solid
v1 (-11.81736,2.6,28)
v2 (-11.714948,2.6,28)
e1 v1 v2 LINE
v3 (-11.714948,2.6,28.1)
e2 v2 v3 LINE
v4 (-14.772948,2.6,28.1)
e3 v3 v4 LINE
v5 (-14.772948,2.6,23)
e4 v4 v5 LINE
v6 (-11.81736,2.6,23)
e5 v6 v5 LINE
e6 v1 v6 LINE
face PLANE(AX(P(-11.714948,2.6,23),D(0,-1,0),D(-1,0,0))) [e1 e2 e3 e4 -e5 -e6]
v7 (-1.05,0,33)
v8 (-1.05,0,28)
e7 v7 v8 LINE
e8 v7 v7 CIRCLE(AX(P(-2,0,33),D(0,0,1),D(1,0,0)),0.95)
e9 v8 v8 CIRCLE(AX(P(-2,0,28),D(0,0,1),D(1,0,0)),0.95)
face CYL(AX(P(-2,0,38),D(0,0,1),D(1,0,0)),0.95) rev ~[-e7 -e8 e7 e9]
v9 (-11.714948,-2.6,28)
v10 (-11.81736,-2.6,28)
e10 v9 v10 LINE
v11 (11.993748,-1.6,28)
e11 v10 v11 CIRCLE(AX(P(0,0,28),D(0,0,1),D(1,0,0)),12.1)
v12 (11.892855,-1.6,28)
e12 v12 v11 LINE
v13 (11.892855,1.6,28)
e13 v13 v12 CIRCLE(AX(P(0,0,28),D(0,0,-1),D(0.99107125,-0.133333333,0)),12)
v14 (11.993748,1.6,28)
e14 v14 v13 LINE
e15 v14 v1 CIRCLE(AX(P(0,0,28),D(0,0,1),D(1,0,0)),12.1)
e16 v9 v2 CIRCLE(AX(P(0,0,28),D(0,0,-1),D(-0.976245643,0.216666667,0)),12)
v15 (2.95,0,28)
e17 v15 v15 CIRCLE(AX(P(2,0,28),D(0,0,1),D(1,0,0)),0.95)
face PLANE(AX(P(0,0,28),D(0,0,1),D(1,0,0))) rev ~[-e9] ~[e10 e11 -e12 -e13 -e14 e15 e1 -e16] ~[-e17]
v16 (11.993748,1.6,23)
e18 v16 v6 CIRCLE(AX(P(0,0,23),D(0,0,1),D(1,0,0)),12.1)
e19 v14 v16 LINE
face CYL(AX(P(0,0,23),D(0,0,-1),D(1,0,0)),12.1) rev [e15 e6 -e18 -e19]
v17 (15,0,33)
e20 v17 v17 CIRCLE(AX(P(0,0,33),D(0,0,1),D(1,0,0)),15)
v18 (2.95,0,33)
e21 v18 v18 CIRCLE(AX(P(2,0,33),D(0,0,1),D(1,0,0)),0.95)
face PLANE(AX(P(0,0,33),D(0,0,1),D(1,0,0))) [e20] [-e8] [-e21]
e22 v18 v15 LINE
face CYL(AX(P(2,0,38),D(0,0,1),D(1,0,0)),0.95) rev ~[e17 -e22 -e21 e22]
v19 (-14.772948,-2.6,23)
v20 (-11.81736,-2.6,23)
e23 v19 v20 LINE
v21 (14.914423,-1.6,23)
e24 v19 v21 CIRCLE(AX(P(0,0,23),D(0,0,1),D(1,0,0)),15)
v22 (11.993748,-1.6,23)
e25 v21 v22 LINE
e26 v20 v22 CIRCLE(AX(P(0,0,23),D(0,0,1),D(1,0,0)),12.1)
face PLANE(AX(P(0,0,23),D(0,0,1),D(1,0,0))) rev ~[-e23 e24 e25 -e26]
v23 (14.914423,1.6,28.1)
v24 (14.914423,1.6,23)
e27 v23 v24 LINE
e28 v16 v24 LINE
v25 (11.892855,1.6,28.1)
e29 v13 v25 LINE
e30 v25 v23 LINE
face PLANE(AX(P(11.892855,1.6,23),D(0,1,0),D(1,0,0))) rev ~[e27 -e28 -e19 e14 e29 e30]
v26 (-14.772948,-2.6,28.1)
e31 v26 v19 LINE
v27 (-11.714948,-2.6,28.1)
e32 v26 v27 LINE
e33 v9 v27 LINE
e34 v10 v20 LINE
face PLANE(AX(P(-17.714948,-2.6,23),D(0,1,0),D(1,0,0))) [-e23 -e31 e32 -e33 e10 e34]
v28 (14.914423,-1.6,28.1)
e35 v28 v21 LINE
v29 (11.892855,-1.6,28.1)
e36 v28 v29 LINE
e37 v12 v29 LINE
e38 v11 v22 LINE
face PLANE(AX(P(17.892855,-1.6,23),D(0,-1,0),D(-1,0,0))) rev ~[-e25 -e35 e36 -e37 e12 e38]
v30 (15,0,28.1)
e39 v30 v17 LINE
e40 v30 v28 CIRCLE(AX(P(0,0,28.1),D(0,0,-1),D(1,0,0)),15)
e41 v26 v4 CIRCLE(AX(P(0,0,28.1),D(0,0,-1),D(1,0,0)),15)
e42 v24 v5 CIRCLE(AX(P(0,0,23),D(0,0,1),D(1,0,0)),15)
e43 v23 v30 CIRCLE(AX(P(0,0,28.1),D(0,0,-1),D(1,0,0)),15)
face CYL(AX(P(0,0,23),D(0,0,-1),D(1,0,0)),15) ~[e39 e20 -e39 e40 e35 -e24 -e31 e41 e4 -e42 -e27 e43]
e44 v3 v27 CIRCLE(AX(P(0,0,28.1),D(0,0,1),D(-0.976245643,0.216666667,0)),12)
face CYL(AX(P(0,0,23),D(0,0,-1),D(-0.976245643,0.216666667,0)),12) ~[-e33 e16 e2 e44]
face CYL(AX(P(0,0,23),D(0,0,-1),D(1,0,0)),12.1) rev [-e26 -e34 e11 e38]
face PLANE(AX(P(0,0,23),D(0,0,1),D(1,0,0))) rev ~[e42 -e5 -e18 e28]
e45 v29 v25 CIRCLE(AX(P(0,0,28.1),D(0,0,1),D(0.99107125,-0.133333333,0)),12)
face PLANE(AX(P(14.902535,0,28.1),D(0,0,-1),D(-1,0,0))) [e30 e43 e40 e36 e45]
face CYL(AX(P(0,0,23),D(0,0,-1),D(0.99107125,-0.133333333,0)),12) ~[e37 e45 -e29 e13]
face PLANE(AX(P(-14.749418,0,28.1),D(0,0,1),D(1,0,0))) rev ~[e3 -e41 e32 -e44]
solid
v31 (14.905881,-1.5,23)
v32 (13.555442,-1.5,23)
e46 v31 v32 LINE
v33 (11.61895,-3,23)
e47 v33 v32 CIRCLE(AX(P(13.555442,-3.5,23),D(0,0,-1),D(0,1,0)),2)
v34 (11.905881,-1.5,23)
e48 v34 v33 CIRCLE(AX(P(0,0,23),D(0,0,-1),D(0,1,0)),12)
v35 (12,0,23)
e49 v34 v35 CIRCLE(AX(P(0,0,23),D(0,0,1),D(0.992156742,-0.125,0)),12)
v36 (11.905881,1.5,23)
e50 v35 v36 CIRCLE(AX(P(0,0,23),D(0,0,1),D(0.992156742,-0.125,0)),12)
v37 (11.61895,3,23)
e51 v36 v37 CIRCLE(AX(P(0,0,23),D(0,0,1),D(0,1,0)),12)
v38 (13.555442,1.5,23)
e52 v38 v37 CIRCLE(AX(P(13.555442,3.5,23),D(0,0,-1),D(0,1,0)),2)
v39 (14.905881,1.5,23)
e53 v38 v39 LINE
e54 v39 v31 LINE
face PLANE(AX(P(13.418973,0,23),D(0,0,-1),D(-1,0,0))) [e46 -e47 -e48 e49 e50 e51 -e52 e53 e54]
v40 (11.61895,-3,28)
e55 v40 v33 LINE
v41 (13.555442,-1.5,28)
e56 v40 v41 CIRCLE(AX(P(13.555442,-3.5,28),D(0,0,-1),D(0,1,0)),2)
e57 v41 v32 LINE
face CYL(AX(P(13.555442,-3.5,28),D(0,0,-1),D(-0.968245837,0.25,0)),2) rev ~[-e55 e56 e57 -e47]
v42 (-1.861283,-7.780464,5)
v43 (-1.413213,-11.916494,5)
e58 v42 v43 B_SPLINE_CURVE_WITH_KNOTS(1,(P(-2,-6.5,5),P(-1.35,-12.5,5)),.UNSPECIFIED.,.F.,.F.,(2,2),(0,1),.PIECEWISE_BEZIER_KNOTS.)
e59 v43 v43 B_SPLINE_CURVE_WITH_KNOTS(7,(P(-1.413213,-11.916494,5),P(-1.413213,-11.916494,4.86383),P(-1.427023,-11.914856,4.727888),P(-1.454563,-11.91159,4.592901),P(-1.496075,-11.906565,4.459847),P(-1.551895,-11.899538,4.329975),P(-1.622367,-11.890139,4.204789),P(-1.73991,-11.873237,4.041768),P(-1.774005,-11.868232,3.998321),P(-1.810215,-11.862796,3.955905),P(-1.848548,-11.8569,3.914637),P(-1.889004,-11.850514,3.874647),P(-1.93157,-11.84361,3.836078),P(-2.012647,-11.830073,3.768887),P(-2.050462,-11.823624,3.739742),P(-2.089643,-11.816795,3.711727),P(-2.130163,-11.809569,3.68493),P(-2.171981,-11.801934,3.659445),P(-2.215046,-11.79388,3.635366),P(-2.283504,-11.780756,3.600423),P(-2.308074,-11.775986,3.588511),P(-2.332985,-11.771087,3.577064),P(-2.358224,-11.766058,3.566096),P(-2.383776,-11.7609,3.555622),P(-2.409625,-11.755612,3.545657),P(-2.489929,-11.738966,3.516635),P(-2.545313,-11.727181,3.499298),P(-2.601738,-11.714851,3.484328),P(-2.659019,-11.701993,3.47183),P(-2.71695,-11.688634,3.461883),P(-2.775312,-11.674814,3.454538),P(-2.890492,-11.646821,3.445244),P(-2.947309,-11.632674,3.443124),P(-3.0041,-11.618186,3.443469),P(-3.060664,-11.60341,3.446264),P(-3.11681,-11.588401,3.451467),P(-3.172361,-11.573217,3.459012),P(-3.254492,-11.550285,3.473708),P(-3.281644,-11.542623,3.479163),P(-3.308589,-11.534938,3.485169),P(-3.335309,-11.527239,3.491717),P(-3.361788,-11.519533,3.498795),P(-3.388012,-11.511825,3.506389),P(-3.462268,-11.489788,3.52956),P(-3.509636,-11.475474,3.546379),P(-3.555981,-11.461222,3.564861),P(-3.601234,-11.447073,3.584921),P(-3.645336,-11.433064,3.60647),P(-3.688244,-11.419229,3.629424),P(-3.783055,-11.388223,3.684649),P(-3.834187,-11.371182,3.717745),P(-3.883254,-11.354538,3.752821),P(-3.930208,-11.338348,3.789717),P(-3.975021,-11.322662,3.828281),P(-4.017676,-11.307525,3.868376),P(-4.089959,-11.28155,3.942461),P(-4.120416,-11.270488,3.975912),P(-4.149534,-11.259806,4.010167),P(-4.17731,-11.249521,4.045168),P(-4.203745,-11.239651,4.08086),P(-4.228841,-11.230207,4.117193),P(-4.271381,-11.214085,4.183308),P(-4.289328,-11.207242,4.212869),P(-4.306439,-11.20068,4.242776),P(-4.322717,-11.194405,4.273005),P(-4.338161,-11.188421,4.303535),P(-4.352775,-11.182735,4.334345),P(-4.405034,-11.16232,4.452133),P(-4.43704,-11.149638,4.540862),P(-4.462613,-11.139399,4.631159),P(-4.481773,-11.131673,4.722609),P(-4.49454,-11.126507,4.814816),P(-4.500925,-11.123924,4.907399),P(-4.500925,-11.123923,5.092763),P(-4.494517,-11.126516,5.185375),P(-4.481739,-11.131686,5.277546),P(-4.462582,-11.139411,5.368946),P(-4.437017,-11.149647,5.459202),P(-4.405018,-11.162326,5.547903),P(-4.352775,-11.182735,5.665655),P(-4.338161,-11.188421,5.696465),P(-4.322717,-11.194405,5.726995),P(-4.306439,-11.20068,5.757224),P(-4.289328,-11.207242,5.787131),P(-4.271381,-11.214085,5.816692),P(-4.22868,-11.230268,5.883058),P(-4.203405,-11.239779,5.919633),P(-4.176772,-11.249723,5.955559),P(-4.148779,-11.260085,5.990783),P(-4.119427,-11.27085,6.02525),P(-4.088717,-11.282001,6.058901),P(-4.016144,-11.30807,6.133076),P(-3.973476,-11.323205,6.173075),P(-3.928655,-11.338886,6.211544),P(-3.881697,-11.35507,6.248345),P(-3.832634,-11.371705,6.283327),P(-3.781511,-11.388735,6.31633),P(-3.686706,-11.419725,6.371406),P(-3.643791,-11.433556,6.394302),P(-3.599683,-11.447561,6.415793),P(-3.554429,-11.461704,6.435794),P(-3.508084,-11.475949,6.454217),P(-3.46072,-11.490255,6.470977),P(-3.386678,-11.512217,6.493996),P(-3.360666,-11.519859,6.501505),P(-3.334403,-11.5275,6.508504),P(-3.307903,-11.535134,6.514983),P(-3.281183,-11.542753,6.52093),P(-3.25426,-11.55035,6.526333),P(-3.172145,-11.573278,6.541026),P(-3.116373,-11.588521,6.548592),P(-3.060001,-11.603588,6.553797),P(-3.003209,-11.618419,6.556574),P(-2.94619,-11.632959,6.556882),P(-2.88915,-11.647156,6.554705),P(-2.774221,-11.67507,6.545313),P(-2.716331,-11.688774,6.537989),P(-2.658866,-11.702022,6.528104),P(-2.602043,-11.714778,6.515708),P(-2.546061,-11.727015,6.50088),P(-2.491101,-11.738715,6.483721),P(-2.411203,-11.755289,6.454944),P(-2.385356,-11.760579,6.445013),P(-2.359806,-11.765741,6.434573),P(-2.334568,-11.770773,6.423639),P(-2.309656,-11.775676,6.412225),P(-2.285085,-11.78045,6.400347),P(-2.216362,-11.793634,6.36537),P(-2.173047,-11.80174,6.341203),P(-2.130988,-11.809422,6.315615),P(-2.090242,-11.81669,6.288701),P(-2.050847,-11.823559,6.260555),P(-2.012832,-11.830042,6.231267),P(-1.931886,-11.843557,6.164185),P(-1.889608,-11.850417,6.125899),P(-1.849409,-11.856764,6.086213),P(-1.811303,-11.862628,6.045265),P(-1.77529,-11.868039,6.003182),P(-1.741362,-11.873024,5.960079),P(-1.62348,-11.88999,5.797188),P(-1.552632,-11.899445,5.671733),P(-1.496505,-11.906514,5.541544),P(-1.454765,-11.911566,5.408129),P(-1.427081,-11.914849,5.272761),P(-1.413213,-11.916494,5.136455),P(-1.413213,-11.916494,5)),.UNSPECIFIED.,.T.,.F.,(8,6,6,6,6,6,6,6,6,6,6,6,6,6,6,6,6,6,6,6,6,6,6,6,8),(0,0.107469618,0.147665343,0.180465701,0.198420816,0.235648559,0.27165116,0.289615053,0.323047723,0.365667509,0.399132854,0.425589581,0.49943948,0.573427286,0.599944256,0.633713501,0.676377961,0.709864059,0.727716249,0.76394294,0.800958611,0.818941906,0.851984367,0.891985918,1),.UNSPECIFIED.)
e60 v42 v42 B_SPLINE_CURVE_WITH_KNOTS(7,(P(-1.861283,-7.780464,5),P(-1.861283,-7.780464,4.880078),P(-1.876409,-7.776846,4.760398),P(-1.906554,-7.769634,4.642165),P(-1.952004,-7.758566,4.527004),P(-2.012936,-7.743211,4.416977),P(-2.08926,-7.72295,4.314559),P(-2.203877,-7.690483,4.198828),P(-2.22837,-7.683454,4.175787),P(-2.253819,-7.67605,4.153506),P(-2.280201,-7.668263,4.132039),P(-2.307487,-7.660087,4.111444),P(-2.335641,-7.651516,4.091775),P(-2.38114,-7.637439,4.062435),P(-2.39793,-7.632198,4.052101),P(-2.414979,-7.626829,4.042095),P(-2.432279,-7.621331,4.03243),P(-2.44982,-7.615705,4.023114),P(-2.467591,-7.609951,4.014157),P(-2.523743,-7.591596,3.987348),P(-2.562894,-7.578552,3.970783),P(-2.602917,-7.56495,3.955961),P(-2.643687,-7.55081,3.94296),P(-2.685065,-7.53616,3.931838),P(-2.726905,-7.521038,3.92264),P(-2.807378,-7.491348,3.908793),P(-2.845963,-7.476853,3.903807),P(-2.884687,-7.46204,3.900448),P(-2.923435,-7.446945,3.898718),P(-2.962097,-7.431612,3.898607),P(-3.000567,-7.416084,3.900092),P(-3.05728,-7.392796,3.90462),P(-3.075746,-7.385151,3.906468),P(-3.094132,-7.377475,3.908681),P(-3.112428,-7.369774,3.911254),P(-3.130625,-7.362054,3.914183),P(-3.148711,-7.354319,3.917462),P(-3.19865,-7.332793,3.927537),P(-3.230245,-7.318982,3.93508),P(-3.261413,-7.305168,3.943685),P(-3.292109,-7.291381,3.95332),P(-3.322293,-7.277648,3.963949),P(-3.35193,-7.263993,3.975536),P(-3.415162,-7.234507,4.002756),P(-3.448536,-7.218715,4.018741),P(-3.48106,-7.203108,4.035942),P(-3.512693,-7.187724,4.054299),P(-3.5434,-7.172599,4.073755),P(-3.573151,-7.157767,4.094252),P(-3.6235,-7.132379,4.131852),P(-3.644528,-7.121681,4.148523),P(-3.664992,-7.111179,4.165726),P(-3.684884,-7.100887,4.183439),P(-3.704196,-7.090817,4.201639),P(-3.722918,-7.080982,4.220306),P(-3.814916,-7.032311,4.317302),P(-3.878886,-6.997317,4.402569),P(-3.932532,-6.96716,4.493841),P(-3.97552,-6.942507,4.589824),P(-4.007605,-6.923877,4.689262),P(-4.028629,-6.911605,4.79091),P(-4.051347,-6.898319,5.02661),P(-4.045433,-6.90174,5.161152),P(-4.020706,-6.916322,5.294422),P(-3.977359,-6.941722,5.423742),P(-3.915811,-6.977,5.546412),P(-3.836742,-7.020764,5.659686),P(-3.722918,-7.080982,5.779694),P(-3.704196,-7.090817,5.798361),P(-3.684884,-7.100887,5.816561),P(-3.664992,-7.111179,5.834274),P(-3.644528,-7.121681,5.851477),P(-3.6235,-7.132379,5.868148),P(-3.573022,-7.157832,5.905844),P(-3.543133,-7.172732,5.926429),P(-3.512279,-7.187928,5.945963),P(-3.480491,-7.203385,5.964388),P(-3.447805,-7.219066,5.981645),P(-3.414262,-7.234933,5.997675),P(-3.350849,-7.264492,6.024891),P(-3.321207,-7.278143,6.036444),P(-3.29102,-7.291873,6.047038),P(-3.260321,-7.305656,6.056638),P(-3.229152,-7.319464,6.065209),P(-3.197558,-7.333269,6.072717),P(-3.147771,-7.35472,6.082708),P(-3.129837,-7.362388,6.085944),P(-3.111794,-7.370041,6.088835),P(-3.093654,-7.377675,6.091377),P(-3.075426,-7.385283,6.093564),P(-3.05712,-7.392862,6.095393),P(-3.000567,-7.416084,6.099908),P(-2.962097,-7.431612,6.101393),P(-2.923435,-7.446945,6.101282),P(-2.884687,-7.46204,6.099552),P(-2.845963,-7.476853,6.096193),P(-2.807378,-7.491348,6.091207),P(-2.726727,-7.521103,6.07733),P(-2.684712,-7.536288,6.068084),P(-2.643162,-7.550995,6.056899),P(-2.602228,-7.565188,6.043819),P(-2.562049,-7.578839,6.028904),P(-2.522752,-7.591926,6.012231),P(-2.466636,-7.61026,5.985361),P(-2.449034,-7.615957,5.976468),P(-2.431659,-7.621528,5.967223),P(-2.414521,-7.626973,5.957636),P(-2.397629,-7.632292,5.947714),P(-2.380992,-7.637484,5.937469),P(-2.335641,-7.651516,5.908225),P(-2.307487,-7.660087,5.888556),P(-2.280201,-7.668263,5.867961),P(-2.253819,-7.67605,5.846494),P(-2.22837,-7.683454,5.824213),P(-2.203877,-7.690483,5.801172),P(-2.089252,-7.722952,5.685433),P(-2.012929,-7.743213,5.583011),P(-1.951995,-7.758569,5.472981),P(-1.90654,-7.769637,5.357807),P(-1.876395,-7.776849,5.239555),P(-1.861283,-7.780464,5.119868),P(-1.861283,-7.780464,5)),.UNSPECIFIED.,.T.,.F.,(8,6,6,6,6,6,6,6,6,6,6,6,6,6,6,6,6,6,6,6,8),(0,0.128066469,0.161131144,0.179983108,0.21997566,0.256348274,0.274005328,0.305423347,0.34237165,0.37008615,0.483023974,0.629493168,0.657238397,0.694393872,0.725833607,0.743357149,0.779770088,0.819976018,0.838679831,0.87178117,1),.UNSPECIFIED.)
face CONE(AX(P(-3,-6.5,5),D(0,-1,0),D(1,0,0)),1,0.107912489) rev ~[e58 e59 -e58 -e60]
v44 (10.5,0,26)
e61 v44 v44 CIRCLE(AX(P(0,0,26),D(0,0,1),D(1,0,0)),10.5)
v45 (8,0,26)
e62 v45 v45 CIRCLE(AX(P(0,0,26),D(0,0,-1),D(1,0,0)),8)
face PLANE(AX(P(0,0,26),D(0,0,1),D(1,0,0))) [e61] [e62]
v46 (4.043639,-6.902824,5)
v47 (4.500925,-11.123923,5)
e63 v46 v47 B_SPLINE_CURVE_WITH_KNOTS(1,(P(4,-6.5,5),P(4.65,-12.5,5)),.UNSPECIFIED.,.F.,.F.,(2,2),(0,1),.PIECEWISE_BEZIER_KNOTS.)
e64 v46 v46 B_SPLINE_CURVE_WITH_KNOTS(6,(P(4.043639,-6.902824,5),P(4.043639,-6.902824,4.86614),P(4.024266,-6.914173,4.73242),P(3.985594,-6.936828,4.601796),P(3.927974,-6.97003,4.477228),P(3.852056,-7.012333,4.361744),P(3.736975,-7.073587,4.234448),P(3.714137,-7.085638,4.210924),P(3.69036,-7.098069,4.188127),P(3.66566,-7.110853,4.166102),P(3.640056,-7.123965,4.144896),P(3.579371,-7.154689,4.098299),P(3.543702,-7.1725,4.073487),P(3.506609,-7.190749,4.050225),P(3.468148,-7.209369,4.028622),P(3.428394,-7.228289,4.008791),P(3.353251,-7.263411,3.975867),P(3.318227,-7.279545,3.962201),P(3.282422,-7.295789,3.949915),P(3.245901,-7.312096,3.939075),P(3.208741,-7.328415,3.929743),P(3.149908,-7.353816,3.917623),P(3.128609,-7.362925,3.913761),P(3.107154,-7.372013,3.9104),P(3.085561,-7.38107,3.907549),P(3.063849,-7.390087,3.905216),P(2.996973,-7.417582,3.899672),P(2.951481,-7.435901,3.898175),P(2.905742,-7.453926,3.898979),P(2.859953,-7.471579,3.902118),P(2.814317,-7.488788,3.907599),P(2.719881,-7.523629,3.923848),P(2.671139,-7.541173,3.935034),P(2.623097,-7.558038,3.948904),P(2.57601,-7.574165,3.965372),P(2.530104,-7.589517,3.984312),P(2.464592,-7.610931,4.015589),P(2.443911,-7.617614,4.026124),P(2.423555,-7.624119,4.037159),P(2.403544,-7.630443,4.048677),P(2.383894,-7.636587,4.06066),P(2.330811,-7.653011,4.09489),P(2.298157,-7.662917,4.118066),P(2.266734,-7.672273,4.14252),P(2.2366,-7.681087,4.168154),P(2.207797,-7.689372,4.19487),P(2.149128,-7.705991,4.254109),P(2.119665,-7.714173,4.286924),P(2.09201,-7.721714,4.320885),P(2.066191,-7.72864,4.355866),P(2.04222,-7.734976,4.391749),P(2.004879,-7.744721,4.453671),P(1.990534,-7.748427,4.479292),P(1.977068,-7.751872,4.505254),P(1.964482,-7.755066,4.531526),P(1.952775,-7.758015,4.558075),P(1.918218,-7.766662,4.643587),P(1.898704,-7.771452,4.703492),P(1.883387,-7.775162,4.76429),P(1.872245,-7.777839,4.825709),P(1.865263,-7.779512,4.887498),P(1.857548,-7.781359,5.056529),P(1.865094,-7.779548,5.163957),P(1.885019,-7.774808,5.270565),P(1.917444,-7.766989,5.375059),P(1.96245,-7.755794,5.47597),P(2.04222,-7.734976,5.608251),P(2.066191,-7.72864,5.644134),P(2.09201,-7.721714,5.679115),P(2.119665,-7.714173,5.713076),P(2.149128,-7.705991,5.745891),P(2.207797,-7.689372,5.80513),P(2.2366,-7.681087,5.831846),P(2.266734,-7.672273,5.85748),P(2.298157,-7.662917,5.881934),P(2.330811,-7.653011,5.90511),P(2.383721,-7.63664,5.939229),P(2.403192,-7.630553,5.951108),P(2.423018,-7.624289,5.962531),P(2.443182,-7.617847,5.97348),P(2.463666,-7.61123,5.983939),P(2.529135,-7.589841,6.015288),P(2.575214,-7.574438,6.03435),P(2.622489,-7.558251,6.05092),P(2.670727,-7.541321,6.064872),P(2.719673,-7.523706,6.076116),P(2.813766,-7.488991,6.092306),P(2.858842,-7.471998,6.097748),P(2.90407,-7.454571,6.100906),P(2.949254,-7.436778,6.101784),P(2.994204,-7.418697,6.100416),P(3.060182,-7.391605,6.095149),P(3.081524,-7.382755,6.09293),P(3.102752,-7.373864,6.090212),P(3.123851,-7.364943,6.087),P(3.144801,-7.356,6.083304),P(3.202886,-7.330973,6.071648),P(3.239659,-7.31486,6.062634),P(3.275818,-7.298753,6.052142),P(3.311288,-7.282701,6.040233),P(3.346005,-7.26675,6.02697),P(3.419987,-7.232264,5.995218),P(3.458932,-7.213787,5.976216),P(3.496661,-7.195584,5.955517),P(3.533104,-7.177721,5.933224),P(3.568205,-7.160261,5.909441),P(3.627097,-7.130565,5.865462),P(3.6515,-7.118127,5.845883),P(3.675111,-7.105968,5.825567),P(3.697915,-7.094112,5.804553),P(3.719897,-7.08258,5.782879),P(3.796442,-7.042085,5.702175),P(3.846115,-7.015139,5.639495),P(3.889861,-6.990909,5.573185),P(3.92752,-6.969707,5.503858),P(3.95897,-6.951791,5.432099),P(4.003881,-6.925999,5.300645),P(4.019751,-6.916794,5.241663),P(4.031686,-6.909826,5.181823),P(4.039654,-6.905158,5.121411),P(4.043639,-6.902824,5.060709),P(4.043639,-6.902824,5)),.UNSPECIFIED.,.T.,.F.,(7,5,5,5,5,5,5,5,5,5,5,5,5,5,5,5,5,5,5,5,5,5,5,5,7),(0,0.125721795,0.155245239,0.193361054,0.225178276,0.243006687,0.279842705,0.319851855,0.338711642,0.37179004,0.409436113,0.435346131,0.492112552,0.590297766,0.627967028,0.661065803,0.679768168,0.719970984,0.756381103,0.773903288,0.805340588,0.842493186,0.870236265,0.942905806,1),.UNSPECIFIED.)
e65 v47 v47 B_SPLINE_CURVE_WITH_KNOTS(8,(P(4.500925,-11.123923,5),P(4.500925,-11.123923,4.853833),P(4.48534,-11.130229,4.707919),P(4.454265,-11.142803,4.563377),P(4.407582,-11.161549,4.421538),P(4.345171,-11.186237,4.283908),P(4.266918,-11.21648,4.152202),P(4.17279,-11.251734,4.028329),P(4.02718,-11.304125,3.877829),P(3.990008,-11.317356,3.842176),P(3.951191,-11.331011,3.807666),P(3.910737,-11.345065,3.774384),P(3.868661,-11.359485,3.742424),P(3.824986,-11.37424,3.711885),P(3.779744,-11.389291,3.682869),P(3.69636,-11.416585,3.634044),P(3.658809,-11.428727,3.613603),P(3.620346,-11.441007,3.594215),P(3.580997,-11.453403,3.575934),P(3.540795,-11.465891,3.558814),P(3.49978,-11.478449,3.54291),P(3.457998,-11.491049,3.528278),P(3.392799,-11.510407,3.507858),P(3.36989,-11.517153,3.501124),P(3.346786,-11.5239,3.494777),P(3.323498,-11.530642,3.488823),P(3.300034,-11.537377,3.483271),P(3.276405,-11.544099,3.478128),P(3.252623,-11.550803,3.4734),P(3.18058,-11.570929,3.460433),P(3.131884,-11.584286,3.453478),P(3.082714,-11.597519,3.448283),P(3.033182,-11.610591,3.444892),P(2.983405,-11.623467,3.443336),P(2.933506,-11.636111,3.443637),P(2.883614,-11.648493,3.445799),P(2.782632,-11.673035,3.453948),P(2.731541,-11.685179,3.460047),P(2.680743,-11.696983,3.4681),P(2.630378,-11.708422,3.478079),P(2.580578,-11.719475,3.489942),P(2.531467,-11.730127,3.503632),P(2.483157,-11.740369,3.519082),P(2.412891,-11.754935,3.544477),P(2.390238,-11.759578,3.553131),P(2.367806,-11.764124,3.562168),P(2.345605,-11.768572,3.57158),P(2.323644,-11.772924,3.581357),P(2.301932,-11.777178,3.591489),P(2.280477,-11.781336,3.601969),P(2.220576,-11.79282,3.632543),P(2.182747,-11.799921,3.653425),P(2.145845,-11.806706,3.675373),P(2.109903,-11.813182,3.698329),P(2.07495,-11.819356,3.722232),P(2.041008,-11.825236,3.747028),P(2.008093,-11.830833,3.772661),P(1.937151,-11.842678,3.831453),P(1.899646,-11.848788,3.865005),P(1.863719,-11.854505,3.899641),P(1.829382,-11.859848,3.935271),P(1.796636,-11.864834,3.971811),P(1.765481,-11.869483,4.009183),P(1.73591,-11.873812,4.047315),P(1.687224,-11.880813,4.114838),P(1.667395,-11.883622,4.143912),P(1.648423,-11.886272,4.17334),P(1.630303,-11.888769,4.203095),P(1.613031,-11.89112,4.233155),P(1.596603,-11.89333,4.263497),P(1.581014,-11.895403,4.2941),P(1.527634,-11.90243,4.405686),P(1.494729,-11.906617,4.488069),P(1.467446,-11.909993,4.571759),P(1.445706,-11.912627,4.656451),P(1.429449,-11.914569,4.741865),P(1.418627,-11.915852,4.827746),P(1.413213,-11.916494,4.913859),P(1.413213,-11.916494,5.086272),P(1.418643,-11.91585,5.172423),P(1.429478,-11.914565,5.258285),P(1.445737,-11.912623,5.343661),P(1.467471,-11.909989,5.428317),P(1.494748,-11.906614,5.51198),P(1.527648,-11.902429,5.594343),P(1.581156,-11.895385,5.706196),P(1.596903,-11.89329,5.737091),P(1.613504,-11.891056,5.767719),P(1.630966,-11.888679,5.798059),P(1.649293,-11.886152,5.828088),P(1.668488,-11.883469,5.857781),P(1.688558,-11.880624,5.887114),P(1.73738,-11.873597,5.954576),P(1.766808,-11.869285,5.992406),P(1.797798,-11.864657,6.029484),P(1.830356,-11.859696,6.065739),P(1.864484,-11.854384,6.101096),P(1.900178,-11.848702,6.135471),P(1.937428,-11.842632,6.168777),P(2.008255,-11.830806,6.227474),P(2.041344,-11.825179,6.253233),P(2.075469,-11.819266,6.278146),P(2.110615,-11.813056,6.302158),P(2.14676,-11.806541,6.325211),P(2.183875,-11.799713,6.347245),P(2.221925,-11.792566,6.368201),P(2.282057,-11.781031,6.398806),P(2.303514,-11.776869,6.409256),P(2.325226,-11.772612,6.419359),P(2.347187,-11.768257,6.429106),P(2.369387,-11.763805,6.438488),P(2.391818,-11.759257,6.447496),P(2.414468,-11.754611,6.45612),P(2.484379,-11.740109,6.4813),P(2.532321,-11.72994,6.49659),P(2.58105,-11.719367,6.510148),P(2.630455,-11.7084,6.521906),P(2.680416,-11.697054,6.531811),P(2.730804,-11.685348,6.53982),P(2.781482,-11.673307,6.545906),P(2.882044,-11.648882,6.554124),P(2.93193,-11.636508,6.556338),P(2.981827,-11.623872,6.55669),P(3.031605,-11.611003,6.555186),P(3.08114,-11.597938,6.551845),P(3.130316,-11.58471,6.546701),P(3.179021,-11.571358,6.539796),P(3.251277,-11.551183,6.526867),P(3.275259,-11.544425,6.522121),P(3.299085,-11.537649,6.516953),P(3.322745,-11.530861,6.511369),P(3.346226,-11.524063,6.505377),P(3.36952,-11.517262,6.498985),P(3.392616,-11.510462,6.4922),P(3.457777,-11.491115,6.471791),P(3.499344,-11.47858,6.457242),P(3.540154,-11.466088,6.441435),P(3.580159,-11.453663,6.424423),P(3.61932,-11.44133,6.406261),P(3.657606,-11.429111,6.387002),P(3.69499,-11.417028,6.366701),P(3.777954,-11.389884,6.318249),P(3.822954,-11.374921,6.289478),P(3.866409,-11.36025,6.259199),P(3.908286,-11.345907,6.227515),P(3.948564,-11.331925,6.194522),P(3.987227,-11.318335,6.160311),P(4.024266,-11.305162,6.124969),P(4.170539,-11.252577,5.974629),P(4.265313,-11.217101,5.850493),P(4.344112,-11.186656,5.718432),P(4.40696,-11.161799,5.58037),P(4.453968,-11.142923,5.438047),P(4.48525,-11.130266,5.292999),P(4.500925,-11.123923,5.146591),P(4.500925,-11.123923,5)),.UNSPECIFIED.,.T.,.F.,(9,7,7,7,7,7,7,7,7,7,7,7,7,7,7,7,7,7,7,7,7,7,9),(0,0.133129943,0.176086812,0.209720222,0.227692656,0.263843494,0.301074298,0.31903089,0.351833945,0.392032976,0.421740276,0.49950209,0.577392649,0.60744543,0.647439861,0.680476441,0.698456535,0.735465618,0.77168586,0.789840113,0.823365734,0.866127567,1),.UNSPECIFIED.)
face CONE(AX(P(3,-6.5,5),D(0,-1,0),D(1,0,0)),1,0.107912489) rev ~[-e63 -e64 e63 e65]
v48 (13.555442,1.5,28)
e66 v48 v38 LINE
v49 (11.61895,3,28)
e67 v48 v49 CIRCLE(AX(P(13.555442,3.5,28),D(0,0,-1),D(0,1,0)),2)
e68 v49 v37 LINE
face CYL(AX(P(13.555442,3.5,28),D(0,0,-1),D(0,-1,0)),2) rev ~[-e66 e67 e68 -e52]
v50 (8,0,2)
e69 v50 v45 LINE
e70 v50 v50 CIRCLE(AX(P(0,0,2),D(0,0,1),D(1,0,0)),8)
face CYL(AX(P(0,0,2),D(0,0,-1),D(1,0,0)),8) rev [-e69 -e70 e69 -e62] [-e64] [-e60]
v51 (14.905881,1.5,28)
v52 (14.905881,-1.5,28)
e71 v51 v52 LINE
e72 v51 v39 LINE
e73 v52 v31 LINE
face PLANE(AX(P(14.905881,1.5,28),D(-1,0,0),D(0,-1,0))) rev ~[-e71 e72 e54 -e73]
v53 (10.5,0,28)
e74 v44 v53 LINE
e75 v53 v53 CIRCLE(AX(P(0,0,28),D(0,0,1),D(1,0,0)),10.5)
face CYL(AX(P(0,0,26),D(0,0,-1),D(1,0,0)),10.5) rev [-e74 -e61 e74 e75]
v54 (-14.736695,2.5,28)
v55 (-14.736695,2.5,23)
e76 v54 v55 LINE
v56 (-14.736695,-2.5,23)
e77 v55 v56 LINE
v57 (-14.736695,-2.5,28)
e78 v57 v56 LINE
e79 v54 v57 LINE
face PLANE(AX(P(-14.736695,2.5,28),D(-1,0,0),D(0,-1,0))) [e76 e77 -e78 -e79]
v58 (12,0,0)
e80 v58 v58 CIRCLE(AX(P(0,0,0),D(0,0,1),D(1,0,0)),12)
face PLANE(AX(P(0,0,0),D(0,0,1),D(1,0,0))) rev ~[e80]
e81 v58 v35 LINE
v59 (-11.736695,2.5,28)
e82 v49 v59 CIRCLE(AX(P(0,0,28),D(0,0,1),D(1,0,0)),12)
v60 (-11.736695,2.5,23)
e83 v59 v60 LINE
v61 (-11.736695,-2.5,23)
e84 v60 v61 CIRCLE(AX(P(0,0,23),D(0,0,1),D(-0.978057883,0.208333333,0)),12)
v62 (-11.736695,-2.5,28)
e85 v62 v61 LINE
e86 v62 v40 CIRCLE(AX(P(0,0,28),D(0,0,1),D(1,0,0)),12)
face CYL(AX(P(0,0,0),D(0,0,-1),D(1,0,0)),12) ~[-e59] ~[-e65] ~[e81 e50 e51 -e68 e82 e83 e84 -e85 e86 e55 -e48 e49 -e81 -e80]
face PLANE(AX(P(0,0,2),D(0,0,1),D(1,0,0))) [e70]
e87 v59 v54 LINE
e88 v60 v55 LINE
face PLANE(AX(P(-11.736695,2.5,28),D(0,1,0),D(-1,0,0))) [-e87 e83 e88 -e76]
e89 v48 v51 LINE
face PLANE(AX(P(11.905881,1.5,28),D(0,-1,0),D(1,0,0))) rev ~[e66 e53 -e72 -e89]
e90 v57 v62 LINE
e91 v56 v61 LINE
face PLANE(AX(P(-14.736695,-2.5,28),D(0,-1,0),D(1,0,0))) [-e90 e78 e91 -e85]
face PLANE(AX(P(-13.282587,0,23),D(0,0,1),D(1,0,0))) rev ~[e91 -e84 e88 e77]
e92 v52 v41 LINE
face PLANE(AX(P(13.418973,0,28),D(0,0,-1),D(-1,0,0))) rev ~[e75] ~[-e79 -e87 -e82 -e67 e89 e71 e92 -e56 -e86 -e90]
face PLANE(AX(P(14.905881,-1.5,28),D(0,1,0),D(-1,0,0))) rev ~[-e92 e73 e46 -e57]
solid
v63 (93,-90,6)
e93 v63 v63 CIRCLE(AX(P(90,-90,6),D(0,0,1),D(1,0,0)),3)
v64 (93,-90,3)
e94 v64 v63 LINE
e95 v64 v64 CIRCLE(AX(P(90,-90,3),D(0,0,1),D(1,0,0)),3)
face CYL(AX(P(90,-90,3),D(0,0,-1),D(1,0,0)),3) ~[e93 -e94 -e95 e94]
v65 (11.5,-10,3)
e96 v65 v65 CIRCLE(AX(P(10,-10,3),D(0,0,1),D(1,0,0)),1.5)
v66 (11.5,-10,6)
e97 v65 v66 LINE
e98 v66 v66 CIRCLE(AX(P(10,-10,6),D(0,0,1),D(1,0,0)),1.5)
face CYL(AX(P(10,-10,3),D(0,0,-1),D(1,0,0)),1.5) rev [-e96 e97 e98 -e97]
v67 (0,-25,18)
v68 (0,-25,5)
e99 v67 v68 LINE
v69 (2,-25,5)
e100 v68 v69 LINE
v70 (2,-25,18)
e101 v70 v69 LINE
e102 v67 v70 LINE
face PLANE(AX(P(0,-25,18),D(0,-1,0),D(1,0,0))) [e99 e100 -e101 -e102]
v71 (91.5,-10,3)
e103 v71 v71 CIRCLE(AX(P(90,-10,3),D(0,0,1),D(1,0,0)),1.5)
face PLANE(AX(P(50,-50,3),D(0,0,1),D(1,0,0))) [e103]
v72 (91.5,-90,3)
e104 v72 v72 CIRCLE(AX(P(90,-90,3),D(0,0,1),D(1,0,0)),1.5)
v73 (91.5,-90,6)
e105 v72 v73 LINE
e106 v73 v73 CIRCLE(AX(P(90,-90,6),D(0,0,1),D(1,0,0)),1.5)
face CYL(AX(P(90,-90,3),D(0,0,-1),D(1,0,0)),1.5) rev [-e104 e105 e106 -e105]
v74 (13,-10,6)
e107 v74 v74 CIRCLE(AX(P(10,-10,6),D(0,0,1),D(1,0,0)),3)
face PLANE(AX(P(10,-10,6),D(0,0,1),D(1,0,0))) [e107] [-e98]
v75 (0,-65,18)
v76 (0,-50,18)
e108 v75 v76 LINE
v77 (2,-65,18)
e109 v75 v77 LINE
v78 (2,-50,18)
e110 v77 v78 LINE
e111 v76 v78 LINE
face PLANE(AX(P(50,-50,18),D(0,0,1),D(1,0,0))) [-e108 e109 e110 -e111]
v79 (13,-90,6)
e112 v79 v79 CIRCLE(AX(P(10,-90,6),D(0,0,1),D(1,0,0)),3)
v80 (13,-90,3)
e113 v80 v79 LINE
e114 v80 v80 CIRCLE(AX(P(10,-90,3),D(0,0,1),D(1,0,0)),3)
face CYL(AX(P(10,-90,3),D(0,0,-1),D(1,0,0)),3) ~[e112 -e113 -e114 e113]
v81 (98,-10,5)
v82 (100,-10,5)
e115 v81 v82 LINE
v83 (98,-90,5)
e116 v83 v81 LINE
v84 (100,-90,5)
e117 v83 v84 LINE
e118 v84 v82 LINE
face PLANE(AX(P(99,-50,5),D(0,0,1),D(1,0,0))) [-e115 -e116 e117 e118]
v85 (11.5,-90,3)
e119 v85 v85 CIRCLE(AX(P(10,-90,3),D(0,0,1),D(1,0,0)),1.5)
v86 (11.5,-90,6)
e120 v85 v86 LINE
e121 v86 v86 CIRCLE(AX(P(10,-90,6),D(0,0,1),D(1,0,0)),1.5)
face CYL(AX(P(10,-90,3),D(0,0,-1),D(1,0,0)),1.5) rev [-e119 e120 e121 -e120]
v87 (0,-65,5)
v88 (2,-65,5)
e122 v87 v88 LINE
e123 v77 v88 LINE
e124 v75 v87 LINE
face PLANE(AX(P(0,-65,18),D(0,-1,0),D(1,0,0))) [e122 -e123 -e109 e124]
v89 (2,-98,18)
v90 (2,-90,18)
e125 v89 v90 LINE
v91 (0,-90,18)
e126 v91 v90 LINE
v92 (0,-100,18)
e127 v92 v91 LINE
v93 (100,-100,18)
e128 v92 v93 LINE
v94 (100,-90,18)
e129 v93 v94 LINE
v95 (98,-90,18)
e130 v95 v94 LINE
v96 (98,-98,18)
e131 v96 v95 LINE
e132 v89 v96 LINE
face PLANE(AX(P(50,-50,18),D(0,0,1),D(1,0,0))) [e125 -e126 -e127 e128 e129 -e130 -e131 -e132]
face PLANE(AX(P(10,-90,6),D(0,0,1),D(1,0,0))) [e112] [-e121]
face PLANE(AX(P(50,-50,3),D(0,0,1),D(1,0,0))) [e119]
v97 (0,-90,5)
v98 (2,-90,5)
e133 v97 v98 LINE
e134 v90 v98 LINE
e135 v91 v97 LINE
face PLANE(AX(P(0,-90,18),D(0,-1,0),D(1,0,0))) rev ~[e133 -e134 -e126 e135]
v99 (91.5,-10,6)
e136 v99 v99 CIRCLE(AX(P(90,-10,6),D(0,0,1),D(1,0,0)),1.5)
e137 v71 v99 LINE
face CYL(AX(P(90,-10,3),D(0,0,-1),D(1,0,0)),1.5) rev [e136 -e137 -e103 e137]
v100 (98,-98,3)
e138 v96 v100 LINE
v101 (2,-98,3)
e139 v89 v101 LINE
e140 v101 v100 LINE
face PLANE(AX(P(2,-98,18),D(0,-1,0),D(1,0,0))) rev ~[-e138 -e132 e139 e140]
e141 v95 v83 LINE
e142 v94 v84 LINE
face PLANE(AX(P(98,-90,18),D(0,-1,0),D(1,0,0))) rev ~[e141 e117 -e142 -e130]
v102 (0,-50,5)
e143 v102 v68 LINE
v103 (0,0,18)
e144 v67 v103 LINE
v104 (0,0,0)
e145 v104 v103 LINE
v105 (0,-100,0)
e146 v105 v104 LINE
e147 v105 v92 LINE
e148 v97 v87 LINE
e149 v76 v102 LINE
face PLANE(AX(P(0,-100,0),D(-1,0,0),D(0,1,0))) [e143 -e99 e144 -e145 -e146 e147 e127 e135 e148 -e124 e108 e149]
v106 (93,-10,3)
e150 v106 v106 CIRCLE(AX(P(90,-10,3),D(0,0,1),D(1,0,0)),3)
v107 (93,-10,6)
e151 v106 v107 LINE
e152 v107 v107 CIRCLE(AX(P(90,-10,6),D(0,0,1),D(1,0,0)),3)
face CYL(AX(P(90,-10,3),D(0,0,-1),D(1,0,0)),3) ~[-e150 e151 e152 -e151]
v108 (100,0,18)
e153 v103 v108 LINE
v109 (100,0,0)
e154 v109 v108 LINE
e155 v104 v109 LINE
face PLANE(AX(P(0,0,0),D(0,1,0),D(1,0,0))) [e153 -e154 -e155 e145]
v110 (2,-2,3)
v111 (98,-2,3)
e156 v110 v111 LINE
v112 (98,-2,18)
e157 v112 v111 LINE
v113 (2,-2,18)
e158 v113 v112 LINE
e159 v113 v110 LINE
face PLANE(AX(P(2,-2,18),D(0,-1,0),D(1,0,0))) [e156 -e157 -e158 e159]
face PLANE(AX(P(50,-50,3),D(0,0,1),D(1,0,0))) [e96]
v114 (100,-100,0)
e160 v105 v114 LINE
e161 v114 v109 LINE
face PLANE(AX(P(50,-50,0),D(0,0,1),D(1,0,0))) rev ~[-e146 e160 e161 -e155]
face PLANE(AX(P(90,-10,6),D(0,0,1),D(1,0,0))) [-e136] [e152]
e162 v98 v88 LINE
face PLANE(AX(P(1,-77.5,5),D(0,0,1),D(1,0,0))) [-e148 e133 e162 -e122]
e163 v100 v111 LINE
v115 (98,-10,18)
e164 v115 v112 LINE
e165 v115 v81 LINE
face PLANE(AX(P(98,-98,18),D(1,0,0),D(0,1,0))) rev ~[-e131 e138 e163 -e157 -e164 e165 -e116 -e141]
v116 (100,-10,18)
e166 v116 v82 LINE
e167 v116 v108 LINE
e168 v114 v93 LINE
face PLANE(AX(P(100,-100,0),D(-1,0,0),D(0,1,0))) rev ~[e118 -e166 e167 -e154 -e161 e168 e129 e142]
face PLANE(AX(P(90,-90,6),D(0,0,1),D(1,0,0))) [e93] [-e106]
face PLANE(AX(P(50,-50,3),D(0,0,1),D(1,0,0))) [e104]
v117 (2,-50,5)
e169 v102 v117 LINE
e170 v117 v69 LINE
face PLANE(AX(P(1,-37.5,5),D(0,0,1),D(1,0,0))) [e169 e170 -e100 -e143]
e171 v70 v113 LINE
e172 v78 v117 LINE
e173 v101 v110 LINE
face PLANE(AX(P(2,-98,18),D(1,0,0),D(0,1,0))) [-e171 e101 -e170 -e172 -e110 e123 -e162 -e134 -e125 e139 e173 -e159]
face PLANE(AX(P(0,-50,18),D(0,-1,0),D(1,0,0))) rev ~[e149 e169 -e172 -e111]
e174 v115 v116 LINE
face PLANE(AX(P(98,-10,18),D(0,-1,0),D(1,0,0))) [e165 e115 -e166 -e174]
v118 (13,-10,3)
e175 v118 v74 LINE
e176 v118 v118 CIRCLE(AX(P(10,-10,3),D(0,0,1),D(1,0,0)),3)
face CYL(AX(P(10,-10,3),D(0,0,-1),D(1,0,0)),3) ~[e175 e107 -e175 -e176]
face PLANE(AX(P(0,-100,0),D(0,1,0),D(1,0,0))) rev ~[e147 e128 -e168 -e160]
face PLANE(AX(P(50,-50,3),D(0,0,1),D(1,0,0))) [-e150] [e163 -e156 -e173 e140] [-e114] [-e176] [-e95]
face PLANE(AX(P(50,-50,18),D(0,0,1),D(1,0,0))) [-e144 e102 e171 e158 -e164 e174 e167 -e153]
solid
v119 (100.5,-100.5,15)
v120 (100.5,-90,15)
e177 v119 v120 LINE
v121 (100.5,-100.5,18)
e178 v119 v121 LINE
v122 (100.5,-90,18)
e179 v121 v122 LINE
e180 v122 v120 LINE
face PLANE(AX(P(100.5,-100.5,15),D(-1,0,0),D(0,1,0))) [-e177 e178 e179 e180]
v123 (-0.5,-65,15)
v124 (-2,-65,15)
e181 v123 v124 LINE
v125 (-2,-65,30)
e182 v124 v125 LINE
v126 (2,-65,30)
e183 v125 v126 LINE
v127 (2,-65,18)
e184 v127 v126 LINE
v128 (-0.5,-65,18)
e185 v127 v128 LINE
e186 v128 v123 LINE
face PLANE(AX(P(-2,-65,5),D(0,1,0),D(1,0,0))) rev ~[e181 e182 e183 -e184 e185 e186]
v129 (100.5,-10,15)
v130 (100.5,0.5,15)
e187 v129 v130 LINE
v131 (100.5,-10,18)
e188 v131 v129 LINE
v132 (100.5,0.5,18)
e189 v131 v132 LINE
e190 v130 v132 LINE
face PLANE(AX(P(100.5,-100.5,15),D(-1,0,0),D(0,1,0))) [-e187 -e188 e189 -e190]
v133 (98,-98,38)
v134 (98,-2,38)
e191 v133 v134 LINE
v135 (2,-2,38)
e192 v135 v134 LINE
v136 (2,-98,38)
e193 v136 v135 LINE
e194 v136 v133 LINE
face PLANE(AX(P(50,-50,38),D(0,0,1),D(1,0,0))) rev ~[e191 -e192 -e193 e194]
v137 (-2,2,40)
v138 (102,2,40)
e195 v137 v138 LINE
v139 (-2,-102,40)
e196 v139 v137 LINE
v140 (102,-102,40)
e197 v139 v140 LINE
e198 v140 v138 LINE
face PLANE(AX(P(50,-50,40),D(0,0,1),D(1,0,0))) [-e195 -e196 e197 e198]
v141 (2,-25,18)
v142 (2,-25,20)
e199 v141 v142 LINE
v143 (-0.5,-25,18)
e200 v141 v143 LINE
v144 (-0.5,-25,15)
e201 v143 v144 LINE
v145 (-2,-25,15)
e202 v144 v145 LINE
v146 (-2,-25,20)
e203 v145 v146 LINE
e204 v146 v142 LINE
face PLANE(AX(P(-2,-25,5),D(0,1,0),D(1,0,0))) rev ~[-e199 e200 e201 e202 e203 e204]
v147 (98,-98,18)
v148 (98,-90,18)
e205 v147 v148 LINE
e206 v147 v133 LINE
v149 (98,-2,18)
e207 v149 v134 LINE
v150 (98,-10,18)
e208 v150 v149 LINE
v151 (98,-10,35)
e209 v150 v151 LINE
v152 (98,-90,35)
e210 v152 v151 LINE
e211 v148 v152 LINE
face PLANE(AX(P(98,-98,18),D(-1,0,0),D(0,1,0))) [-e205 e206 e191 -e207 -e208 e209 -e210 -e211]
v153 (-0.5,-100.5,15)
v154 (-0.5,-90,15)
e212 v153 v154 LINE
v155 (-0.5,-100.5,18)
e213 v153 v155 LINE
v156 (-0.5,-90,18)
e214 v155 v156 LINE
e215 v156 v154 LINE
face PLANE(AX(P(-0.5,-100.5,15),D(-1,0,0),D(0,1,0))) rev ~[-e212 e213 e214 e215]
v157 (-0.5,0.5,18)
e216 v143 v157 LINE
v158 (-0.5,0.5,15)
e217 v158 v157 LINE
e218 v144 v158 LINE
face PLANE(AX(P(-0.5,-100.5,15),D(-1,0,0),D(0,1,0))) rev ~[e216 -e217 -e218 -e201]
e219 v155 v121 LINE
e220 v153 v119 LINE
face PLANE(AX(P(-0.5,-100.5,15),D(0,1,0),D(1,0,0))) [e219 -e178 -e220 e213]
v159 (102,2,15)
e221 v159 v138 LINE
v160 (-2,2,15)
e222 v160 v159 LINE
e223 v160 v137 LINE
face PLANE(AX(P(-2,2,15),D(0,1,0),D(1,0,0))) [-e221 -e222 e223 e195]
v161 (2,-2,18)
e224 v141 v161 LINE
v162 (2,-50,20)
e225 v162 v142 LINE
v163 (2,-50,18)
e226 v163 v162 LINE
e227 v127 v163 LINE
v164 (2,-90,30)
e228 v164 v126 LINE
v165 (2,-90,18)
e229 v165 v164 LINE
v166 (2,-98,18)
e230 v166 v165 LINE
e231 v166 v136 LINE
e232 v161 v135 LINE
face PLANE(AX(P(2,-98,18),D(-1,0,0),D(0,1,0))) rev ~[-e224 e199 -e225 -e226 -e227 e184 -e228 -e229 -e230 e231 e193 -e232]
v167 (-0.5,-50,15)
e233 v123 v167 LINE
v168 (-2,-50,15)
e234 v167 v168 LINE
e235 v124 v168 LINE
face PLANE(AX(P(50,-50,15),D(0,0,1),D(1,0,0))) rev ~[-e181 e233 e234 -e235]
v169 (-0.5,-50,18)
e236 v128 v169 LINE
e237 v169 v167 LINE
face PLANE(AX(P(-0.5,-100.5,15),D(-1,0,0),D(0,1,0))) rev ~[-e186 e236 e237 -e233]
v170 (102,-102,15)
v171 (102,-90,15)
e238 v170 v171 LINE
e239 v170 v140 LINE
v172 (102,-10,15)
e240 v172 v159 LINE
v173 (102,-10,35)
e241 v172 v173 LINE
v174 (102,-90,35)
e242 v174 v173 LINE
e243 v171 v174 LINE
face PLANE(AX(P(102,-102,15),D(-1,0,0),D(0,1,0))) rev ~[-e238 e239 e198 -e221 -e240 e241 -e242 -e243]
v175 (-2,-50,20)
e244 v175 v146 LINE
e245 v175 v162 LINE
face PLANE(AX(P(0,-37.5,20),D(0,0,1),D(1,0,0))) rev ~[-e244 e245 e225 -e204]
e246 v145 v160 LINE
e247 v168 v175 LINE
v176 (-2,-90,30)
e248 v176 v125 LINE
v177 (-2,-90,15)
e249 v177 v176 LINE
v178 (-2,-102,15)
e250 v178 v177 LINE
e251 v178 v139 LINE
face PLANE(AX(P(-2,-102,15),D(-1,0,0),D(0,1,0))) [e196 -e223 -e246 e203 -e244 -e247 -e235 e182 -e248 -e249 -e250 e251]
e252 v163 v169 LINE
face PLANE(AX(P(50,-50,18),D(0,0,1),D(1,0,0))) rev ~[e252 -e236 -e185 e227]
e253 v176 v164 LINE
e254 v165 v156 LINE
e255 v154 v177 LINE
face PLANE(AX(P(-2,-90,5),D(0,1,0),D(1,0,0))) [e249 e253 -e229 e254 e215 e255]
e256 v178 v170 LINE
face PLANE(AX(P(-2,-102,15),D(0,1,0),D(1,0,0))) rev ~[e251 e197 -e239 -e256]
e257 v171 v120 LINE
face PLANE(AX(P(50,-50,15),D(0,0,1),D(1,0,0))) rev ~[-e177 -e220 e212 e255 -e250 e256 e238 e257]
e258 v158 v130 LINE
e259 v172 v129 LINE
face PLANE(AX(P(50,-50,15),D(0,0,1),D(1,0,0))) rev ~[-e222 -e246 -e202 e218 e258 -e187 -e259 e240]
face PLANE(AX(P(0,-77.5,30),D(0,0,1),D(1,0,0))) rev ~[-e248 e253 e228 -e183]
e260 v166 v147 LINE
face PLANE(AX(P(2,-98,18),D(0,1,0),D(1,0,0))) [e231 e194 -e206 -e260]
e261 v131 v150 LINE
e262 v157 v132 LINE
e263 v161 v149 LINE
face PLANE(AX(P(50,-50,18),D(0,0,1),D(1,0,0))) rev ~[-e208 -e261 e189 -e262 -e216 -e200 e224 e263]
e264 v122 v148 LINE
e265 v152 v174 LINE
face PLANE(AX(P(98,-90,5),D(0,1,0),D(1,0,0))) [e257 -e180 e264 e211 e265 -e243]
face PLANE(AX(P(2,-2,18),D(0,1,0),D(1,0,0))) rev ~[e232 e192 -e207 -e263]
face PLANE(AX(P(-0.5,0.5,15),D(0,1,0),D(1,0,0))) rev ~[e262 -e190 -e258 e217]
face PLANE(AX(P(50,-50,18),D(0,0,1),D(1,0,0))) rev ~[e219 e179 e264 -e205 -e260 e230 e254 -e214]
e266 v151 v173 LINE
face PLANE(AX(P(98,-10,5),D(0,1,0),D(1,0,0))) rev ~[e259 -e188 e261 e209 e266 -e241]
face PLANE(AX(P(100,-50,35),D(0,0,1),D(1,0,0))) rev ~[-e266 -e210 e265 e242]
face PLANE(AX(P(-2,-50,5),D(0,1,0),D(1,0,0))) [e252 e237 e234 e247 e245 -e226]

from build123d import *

# Parameters (mm, degrees)
SKETCH_W        = 100
SKETCH_H        = 100
PAD_DEPTH       = 18
SKETCH001_W     = 96
SKETCH001_H     = 96
POCKET_DEPTH    = 15
SKETCH002_R     = 3
SKETCH002_R_2   = 1.5
PAD001_DEPTH    = 3
SKETCH003_W     = 2
SKETCH003_H     = 25
SKETCH003_H_2   = 80
POCKET002_DEPTH = 13
SKETCH014_W     = 104
SKETCH014_H     = 104
PAD005_DEPTH    = 25
SKETCH015_W     = 101
SKETCH015_H     = 101
POCKET009_DEPTH = 3
SKETCH016_W     = 96
SKETCH016_H     = 96
POCKET010_DEPTH = 20
SKETCH017_W     = 4
SKETCH017_H     = 25
POCKET011_DEPTH = 15
SKETCH018_W     = 4
SKETCH018_H     = 25
POCKET012_DEPTH = 25
SKETCH019_W     = 4
SKETCH019_H     = 80
POCKET013_DEPTH = 30
SKETCH009_R     = 15
PAD004_DEPTH    = 10
SKETCH010_R     = 12.1
POCKET006_DEPTH = 5
POCKET007_DEPTH = 5.1
SKETCH012_R     = 0.95
POCKET008_DEPTH = 10
SKETCH021_R     = 1
SKETCH022_R     = 1.65
SKETCH007_R     = 1
SKETCH020_R     = 1.65
SKETCH004_R     = 12
PAD002_DEPTH    = 28
SKETCH005_R     = 8
POCKET003_DEPTH = 26
SKETCH006_R     = 10.5
POCKET004_DEPTH = 2
PAD003_DEPTH    = 5
FILLET_R        = 2
FILLET001_R     = 2


with BuildPart() as case_bottom:
    # Sketch → Pad (new body)
    with BuildSketch(Plane.XY):
        with Locations((50, -50)):
            Rectangle(SKETCH_W, SKETCH_H)
    extrude(amount=PAD_DEPTH)

    # Sketch001 → Pocket (cut)
    with BuildSketch(Plane.XY.offset(18)):
        with Locations((50, -50)):
            Rectangle(SKETCH001_W, SKETCH001_H)
    extrude(amount=-POCKET_DEPTH, mode=Mode.SUBTRACT)

    # Sketch002 → Pad001 (join)
    with BuildSketch(Plane.XY.offset(3)):
        with Locations((10, -10)):
            Circle(SKETCH002_R)
        with Locations((10, -10)):
            Circle(SKETCH002_R_2, mode=Mode.SUBTRACT)
        with Locations((90, -10)):
            Circle(SKETCH002_R)
        with Locations((90, -10)):
            Circle(SKETCH002_R_2, mode=Mode.SUBTRACT)
        with Locations((90, -90)):
            Circle(SKETCH002_R)
        with Locations((90, -90)):
            Circle(SKETCH002_R_2, mode=Mode.SUBTRACT)
        with Locations((10, -90)):
            Circle(SKETCH002_R)
        with Locations((10, -90)):
            Circle(SKETCH002_R_2, mode=Mode.SUBTRACT)
    extrude(amount=PAD001_DEPTH)

    # Sketch003 → Pocket002 (cut)
    with BuildSketch(Plane.XY.offset(18)):
        with Locations((1, -77.5)):
            Rectangle(SKETCH003_W, SKETCH003_H)
        with Locations((1, -37.5)):
            Rectangle(SKETCH003_W, SKETCH003_H)
        with Locations((99, -50)):
            Rectangle(SKETCH003_W, SKETCH003_H_2)
    extrude(amount=-POCKET002_DEPTH, mode=Mode.SUBTRACT)


with BuildPart() as case_top:
    # Sketch014 → Pad005 (new body)
    with BuildSketch(Plane.XY.offset(15)):
        with Locations((50, -50)):
            Rectangle(SKETCH014_W, SKETCH014_H)
    extrude(amount=PAD005_DEPTH)

    # Sketch015 → Pocket009 (cut)
    with BuildSketch(Plane.XY.offset(15)):
        with Locations((50, -50)):
            Rectangle(SKETCH015_W, SKETCH015_H)
    extrude(amount=POCKET009_DEPTH, mode=Mode.SUBTRACT)

    # Sketch016 → Pocket010 (cut)
    with BuildSketch(Plane.XY.offset(18)):
        with Locations((50, -50)):
            Rectangle(SKETCH016_W, SKETCH016_H)
    extrude(amount=POCKET010_DEPTH, mode=Mode.SUBTRACT)

    # Sketch017 → Pocket011 (cut)
    with BuildSketch(Plane.XY.offset(5)):
        with Locations((0, -37.5)):
            Rectangle(SKETCH017_W, SKETCH017_H)
    extrude(amount=POCKET011_DEPTH, mode=Mode.SUBTRACT)

    # Sketch018 → Pocket012 (cut)
    with BuildSketch(Plane.XY.offset(5)):
        with Locations((0, -77.5)):
            Rectangle(SKETCH018_W, SKETCH018_H)
    extrude(amount=POCKET012_DEPTH, mode=Mode.SUBTRACT)

    # Sketch019 → Pocket013 (cut)
    with BuildSketch(Plane.XY.offset(5)):
        with Locations((100, -50)):
            Rectangle(SKETCH019_W, SKETCH019_H)
    extrude(amount=POCKET013_DEPTH, mode=Mode.SUBTRACT)


with BuildPart() as transwell_top:
    # Sketch009 → Pad004 (new body)
    with BuildSketch(Plane.XY.offset(23)):
        Circle(SKETCH009_R)
    extrude(amount=PAD004_DEPTH)

    # Sketch010 → Pocket006 (cut)
    with BuildSketch(Plane.XY.offset(23)):
        Circle(SKETCH010_R)
    extrude(amount=POCKET006_DEPTH, mode=Mode.SUBTRACT)

    # Sketch011 → Pocket007 (cut)
    with BuildSketch(Plane.XY.offset(23)):
        with BuildLine():
            Line((-11.7149477165, 2.6), (-17.7149477165, 2.6))
            Line((-17.7149477165, 2.6), (-17.7149477165, -2.6))
            Line((-17.7149477165, -2.6), (-11.7149477165, -2.6))
            ThreePointArc((-11.7149477165, 2.6), (-12, 0), (-11.7149477165, -2.6))
        make_face()
        with BuildLine():
            Line((11.8928549979, 1.6), (17.8928549979, 1.6))
            Line((17.8928549979, 1.6), (17.8928549979, -1.6))
            Line((17.8928549979, -1.6), (11.8928549979, -1.6))
            ThreePointArc((11.8928549979, -1.6), (12, 0), (11.8928549979, 1.6))
        make_face()
    extrude(amount=POCKET007_DEPTH, mode=Mode.SUBTRACT)

    # Sketch012 → Pocket008 (cut)
    with BuildSketch(Plane.XY.offset(38)):
        with Locations((-2, 0)):
            Circle(SKETCH012_R)
        with Locations((2, 0)):
            Circle(SKETCH012_R)
    extrude(amount=-POCKET008_DEPTH, mode=Mode.SUBTRACT)


with BuildPart() as body005:
    # Sketch021 → AdditiveLoft001 section 0
    with BuildSketch(Plane(origin=(-6, 0, 0), x_dir=(1, 0, 0), z_dir=(0, -1, 0))):
        with Locations((3, 5)):
            Circle(SKETCH021_R)
    # Sketch022 → AdditiveLoft001 section 1
    with BuildSketch(Plane(origin=(-6, -6, 0), x_dir=(1, 0, 0), z_dir=(0, -1, 0))):
        with Locations((3, 5)):
            Circle(SKETCH022_R)
    loft()


with BuildPart() as electrodes:
    # Sketch007 → AdditiveLoft section 0
    with BuildSketch(Plane.XZ):
        with Locations((3, 5)):
            Circle(SKETCH007_R)
    # Sketch020 → AdditiveLoft section 1
    with BuildSketch(Plane.XZ.offset(6)):
        with Locations((3, 5)):
            Circle(SKETCH020_R)
    loft()

    # Compound: union Body005
    add(body005.part)


with BuildPart() as electrodes_1:
    # Compound placement: moved
    add(electrodes.part.moved(Location((0, -6.5, 0))))


with BuildPart() as transwell_bottom_unit:
    # Sketch004 → Pad002 (new body)
    with BuildSketch(Plane.XY):
        Circle(SKETCH004_R)
    extrude(amount=PAD002_DEPTH)

    # Sketch005 → Pocket003 (cut)
    with BuildSketch(Plane.XY.offset(2)):
        Circle(SKETCH005_R)
    extrude(amount=POCKET003_DEPTH, mode=Mode.SUBTRACT)

    # Sketch006 → Pocket004 (cut)
    with BuildSketch(Plane.XY.offset(26)):
        Circle(SKETCH006_R)
    extrude(amount=POCKET004_DEPTH, mode=Mode.SUBTRACT)

    # Sketch008 → Pad003 (join)
    with BuildSketch(Plane.XY.offset(28)):
        with BuildLine():
            Line((-11.7366945943, 2.5), (-14.7366945943, 2.5))
            Line((-14.7366945943, 2.5), (-14.7366945943, -2.5))
            Line((-14.7366945943, -2.5), (-11.7366945943, -2.5))
            ThreePointArc((-11.7366945943, 2.5), (-12, 0), (-11.7366945943, -2.5))
        make_face()
        with BuildLine():
            Line((11.9058808998, 1.5), (14.9058808998, 1.5))
            Line((14.9058808998, 1.5), (14.9058808998, -1.5))
            Line((14.9058808998, -1.5), (11.9058808998, -1.5))
            ThreePointArc((11.9058808998, -1.5), (12, 0), (11.9058808998, 1.5))
        make_face()
    extrude(amount=-PAD003_DEPTH)

    # Fillet
    fillet_edges = [transwell_bottom_unit.edges().sort_by_distance(p)[0] for p in [
        (12, 0, 11.5),
        (11.905881, 1.5, 25.5),
    ]]
    fillet(fillet_edges, radius=FILLET_R)

    # Fillet001
    fillet001_edges = [transwell_bottom_unit.edges().sort_by_distance(p)[0] for p in [
        (11.905881, -1.5, 25.5),
    ]]
    fillet(fillet001_edges, radius=FILLET001_R)

    # Cut: cut electrodes
    add(electrodes_1.part, mode=Mode.SUBTRACT)


solid = Compound([case_bottom.part, case_top.part, transwell_top.part, transwell_bottom_unit.part])
